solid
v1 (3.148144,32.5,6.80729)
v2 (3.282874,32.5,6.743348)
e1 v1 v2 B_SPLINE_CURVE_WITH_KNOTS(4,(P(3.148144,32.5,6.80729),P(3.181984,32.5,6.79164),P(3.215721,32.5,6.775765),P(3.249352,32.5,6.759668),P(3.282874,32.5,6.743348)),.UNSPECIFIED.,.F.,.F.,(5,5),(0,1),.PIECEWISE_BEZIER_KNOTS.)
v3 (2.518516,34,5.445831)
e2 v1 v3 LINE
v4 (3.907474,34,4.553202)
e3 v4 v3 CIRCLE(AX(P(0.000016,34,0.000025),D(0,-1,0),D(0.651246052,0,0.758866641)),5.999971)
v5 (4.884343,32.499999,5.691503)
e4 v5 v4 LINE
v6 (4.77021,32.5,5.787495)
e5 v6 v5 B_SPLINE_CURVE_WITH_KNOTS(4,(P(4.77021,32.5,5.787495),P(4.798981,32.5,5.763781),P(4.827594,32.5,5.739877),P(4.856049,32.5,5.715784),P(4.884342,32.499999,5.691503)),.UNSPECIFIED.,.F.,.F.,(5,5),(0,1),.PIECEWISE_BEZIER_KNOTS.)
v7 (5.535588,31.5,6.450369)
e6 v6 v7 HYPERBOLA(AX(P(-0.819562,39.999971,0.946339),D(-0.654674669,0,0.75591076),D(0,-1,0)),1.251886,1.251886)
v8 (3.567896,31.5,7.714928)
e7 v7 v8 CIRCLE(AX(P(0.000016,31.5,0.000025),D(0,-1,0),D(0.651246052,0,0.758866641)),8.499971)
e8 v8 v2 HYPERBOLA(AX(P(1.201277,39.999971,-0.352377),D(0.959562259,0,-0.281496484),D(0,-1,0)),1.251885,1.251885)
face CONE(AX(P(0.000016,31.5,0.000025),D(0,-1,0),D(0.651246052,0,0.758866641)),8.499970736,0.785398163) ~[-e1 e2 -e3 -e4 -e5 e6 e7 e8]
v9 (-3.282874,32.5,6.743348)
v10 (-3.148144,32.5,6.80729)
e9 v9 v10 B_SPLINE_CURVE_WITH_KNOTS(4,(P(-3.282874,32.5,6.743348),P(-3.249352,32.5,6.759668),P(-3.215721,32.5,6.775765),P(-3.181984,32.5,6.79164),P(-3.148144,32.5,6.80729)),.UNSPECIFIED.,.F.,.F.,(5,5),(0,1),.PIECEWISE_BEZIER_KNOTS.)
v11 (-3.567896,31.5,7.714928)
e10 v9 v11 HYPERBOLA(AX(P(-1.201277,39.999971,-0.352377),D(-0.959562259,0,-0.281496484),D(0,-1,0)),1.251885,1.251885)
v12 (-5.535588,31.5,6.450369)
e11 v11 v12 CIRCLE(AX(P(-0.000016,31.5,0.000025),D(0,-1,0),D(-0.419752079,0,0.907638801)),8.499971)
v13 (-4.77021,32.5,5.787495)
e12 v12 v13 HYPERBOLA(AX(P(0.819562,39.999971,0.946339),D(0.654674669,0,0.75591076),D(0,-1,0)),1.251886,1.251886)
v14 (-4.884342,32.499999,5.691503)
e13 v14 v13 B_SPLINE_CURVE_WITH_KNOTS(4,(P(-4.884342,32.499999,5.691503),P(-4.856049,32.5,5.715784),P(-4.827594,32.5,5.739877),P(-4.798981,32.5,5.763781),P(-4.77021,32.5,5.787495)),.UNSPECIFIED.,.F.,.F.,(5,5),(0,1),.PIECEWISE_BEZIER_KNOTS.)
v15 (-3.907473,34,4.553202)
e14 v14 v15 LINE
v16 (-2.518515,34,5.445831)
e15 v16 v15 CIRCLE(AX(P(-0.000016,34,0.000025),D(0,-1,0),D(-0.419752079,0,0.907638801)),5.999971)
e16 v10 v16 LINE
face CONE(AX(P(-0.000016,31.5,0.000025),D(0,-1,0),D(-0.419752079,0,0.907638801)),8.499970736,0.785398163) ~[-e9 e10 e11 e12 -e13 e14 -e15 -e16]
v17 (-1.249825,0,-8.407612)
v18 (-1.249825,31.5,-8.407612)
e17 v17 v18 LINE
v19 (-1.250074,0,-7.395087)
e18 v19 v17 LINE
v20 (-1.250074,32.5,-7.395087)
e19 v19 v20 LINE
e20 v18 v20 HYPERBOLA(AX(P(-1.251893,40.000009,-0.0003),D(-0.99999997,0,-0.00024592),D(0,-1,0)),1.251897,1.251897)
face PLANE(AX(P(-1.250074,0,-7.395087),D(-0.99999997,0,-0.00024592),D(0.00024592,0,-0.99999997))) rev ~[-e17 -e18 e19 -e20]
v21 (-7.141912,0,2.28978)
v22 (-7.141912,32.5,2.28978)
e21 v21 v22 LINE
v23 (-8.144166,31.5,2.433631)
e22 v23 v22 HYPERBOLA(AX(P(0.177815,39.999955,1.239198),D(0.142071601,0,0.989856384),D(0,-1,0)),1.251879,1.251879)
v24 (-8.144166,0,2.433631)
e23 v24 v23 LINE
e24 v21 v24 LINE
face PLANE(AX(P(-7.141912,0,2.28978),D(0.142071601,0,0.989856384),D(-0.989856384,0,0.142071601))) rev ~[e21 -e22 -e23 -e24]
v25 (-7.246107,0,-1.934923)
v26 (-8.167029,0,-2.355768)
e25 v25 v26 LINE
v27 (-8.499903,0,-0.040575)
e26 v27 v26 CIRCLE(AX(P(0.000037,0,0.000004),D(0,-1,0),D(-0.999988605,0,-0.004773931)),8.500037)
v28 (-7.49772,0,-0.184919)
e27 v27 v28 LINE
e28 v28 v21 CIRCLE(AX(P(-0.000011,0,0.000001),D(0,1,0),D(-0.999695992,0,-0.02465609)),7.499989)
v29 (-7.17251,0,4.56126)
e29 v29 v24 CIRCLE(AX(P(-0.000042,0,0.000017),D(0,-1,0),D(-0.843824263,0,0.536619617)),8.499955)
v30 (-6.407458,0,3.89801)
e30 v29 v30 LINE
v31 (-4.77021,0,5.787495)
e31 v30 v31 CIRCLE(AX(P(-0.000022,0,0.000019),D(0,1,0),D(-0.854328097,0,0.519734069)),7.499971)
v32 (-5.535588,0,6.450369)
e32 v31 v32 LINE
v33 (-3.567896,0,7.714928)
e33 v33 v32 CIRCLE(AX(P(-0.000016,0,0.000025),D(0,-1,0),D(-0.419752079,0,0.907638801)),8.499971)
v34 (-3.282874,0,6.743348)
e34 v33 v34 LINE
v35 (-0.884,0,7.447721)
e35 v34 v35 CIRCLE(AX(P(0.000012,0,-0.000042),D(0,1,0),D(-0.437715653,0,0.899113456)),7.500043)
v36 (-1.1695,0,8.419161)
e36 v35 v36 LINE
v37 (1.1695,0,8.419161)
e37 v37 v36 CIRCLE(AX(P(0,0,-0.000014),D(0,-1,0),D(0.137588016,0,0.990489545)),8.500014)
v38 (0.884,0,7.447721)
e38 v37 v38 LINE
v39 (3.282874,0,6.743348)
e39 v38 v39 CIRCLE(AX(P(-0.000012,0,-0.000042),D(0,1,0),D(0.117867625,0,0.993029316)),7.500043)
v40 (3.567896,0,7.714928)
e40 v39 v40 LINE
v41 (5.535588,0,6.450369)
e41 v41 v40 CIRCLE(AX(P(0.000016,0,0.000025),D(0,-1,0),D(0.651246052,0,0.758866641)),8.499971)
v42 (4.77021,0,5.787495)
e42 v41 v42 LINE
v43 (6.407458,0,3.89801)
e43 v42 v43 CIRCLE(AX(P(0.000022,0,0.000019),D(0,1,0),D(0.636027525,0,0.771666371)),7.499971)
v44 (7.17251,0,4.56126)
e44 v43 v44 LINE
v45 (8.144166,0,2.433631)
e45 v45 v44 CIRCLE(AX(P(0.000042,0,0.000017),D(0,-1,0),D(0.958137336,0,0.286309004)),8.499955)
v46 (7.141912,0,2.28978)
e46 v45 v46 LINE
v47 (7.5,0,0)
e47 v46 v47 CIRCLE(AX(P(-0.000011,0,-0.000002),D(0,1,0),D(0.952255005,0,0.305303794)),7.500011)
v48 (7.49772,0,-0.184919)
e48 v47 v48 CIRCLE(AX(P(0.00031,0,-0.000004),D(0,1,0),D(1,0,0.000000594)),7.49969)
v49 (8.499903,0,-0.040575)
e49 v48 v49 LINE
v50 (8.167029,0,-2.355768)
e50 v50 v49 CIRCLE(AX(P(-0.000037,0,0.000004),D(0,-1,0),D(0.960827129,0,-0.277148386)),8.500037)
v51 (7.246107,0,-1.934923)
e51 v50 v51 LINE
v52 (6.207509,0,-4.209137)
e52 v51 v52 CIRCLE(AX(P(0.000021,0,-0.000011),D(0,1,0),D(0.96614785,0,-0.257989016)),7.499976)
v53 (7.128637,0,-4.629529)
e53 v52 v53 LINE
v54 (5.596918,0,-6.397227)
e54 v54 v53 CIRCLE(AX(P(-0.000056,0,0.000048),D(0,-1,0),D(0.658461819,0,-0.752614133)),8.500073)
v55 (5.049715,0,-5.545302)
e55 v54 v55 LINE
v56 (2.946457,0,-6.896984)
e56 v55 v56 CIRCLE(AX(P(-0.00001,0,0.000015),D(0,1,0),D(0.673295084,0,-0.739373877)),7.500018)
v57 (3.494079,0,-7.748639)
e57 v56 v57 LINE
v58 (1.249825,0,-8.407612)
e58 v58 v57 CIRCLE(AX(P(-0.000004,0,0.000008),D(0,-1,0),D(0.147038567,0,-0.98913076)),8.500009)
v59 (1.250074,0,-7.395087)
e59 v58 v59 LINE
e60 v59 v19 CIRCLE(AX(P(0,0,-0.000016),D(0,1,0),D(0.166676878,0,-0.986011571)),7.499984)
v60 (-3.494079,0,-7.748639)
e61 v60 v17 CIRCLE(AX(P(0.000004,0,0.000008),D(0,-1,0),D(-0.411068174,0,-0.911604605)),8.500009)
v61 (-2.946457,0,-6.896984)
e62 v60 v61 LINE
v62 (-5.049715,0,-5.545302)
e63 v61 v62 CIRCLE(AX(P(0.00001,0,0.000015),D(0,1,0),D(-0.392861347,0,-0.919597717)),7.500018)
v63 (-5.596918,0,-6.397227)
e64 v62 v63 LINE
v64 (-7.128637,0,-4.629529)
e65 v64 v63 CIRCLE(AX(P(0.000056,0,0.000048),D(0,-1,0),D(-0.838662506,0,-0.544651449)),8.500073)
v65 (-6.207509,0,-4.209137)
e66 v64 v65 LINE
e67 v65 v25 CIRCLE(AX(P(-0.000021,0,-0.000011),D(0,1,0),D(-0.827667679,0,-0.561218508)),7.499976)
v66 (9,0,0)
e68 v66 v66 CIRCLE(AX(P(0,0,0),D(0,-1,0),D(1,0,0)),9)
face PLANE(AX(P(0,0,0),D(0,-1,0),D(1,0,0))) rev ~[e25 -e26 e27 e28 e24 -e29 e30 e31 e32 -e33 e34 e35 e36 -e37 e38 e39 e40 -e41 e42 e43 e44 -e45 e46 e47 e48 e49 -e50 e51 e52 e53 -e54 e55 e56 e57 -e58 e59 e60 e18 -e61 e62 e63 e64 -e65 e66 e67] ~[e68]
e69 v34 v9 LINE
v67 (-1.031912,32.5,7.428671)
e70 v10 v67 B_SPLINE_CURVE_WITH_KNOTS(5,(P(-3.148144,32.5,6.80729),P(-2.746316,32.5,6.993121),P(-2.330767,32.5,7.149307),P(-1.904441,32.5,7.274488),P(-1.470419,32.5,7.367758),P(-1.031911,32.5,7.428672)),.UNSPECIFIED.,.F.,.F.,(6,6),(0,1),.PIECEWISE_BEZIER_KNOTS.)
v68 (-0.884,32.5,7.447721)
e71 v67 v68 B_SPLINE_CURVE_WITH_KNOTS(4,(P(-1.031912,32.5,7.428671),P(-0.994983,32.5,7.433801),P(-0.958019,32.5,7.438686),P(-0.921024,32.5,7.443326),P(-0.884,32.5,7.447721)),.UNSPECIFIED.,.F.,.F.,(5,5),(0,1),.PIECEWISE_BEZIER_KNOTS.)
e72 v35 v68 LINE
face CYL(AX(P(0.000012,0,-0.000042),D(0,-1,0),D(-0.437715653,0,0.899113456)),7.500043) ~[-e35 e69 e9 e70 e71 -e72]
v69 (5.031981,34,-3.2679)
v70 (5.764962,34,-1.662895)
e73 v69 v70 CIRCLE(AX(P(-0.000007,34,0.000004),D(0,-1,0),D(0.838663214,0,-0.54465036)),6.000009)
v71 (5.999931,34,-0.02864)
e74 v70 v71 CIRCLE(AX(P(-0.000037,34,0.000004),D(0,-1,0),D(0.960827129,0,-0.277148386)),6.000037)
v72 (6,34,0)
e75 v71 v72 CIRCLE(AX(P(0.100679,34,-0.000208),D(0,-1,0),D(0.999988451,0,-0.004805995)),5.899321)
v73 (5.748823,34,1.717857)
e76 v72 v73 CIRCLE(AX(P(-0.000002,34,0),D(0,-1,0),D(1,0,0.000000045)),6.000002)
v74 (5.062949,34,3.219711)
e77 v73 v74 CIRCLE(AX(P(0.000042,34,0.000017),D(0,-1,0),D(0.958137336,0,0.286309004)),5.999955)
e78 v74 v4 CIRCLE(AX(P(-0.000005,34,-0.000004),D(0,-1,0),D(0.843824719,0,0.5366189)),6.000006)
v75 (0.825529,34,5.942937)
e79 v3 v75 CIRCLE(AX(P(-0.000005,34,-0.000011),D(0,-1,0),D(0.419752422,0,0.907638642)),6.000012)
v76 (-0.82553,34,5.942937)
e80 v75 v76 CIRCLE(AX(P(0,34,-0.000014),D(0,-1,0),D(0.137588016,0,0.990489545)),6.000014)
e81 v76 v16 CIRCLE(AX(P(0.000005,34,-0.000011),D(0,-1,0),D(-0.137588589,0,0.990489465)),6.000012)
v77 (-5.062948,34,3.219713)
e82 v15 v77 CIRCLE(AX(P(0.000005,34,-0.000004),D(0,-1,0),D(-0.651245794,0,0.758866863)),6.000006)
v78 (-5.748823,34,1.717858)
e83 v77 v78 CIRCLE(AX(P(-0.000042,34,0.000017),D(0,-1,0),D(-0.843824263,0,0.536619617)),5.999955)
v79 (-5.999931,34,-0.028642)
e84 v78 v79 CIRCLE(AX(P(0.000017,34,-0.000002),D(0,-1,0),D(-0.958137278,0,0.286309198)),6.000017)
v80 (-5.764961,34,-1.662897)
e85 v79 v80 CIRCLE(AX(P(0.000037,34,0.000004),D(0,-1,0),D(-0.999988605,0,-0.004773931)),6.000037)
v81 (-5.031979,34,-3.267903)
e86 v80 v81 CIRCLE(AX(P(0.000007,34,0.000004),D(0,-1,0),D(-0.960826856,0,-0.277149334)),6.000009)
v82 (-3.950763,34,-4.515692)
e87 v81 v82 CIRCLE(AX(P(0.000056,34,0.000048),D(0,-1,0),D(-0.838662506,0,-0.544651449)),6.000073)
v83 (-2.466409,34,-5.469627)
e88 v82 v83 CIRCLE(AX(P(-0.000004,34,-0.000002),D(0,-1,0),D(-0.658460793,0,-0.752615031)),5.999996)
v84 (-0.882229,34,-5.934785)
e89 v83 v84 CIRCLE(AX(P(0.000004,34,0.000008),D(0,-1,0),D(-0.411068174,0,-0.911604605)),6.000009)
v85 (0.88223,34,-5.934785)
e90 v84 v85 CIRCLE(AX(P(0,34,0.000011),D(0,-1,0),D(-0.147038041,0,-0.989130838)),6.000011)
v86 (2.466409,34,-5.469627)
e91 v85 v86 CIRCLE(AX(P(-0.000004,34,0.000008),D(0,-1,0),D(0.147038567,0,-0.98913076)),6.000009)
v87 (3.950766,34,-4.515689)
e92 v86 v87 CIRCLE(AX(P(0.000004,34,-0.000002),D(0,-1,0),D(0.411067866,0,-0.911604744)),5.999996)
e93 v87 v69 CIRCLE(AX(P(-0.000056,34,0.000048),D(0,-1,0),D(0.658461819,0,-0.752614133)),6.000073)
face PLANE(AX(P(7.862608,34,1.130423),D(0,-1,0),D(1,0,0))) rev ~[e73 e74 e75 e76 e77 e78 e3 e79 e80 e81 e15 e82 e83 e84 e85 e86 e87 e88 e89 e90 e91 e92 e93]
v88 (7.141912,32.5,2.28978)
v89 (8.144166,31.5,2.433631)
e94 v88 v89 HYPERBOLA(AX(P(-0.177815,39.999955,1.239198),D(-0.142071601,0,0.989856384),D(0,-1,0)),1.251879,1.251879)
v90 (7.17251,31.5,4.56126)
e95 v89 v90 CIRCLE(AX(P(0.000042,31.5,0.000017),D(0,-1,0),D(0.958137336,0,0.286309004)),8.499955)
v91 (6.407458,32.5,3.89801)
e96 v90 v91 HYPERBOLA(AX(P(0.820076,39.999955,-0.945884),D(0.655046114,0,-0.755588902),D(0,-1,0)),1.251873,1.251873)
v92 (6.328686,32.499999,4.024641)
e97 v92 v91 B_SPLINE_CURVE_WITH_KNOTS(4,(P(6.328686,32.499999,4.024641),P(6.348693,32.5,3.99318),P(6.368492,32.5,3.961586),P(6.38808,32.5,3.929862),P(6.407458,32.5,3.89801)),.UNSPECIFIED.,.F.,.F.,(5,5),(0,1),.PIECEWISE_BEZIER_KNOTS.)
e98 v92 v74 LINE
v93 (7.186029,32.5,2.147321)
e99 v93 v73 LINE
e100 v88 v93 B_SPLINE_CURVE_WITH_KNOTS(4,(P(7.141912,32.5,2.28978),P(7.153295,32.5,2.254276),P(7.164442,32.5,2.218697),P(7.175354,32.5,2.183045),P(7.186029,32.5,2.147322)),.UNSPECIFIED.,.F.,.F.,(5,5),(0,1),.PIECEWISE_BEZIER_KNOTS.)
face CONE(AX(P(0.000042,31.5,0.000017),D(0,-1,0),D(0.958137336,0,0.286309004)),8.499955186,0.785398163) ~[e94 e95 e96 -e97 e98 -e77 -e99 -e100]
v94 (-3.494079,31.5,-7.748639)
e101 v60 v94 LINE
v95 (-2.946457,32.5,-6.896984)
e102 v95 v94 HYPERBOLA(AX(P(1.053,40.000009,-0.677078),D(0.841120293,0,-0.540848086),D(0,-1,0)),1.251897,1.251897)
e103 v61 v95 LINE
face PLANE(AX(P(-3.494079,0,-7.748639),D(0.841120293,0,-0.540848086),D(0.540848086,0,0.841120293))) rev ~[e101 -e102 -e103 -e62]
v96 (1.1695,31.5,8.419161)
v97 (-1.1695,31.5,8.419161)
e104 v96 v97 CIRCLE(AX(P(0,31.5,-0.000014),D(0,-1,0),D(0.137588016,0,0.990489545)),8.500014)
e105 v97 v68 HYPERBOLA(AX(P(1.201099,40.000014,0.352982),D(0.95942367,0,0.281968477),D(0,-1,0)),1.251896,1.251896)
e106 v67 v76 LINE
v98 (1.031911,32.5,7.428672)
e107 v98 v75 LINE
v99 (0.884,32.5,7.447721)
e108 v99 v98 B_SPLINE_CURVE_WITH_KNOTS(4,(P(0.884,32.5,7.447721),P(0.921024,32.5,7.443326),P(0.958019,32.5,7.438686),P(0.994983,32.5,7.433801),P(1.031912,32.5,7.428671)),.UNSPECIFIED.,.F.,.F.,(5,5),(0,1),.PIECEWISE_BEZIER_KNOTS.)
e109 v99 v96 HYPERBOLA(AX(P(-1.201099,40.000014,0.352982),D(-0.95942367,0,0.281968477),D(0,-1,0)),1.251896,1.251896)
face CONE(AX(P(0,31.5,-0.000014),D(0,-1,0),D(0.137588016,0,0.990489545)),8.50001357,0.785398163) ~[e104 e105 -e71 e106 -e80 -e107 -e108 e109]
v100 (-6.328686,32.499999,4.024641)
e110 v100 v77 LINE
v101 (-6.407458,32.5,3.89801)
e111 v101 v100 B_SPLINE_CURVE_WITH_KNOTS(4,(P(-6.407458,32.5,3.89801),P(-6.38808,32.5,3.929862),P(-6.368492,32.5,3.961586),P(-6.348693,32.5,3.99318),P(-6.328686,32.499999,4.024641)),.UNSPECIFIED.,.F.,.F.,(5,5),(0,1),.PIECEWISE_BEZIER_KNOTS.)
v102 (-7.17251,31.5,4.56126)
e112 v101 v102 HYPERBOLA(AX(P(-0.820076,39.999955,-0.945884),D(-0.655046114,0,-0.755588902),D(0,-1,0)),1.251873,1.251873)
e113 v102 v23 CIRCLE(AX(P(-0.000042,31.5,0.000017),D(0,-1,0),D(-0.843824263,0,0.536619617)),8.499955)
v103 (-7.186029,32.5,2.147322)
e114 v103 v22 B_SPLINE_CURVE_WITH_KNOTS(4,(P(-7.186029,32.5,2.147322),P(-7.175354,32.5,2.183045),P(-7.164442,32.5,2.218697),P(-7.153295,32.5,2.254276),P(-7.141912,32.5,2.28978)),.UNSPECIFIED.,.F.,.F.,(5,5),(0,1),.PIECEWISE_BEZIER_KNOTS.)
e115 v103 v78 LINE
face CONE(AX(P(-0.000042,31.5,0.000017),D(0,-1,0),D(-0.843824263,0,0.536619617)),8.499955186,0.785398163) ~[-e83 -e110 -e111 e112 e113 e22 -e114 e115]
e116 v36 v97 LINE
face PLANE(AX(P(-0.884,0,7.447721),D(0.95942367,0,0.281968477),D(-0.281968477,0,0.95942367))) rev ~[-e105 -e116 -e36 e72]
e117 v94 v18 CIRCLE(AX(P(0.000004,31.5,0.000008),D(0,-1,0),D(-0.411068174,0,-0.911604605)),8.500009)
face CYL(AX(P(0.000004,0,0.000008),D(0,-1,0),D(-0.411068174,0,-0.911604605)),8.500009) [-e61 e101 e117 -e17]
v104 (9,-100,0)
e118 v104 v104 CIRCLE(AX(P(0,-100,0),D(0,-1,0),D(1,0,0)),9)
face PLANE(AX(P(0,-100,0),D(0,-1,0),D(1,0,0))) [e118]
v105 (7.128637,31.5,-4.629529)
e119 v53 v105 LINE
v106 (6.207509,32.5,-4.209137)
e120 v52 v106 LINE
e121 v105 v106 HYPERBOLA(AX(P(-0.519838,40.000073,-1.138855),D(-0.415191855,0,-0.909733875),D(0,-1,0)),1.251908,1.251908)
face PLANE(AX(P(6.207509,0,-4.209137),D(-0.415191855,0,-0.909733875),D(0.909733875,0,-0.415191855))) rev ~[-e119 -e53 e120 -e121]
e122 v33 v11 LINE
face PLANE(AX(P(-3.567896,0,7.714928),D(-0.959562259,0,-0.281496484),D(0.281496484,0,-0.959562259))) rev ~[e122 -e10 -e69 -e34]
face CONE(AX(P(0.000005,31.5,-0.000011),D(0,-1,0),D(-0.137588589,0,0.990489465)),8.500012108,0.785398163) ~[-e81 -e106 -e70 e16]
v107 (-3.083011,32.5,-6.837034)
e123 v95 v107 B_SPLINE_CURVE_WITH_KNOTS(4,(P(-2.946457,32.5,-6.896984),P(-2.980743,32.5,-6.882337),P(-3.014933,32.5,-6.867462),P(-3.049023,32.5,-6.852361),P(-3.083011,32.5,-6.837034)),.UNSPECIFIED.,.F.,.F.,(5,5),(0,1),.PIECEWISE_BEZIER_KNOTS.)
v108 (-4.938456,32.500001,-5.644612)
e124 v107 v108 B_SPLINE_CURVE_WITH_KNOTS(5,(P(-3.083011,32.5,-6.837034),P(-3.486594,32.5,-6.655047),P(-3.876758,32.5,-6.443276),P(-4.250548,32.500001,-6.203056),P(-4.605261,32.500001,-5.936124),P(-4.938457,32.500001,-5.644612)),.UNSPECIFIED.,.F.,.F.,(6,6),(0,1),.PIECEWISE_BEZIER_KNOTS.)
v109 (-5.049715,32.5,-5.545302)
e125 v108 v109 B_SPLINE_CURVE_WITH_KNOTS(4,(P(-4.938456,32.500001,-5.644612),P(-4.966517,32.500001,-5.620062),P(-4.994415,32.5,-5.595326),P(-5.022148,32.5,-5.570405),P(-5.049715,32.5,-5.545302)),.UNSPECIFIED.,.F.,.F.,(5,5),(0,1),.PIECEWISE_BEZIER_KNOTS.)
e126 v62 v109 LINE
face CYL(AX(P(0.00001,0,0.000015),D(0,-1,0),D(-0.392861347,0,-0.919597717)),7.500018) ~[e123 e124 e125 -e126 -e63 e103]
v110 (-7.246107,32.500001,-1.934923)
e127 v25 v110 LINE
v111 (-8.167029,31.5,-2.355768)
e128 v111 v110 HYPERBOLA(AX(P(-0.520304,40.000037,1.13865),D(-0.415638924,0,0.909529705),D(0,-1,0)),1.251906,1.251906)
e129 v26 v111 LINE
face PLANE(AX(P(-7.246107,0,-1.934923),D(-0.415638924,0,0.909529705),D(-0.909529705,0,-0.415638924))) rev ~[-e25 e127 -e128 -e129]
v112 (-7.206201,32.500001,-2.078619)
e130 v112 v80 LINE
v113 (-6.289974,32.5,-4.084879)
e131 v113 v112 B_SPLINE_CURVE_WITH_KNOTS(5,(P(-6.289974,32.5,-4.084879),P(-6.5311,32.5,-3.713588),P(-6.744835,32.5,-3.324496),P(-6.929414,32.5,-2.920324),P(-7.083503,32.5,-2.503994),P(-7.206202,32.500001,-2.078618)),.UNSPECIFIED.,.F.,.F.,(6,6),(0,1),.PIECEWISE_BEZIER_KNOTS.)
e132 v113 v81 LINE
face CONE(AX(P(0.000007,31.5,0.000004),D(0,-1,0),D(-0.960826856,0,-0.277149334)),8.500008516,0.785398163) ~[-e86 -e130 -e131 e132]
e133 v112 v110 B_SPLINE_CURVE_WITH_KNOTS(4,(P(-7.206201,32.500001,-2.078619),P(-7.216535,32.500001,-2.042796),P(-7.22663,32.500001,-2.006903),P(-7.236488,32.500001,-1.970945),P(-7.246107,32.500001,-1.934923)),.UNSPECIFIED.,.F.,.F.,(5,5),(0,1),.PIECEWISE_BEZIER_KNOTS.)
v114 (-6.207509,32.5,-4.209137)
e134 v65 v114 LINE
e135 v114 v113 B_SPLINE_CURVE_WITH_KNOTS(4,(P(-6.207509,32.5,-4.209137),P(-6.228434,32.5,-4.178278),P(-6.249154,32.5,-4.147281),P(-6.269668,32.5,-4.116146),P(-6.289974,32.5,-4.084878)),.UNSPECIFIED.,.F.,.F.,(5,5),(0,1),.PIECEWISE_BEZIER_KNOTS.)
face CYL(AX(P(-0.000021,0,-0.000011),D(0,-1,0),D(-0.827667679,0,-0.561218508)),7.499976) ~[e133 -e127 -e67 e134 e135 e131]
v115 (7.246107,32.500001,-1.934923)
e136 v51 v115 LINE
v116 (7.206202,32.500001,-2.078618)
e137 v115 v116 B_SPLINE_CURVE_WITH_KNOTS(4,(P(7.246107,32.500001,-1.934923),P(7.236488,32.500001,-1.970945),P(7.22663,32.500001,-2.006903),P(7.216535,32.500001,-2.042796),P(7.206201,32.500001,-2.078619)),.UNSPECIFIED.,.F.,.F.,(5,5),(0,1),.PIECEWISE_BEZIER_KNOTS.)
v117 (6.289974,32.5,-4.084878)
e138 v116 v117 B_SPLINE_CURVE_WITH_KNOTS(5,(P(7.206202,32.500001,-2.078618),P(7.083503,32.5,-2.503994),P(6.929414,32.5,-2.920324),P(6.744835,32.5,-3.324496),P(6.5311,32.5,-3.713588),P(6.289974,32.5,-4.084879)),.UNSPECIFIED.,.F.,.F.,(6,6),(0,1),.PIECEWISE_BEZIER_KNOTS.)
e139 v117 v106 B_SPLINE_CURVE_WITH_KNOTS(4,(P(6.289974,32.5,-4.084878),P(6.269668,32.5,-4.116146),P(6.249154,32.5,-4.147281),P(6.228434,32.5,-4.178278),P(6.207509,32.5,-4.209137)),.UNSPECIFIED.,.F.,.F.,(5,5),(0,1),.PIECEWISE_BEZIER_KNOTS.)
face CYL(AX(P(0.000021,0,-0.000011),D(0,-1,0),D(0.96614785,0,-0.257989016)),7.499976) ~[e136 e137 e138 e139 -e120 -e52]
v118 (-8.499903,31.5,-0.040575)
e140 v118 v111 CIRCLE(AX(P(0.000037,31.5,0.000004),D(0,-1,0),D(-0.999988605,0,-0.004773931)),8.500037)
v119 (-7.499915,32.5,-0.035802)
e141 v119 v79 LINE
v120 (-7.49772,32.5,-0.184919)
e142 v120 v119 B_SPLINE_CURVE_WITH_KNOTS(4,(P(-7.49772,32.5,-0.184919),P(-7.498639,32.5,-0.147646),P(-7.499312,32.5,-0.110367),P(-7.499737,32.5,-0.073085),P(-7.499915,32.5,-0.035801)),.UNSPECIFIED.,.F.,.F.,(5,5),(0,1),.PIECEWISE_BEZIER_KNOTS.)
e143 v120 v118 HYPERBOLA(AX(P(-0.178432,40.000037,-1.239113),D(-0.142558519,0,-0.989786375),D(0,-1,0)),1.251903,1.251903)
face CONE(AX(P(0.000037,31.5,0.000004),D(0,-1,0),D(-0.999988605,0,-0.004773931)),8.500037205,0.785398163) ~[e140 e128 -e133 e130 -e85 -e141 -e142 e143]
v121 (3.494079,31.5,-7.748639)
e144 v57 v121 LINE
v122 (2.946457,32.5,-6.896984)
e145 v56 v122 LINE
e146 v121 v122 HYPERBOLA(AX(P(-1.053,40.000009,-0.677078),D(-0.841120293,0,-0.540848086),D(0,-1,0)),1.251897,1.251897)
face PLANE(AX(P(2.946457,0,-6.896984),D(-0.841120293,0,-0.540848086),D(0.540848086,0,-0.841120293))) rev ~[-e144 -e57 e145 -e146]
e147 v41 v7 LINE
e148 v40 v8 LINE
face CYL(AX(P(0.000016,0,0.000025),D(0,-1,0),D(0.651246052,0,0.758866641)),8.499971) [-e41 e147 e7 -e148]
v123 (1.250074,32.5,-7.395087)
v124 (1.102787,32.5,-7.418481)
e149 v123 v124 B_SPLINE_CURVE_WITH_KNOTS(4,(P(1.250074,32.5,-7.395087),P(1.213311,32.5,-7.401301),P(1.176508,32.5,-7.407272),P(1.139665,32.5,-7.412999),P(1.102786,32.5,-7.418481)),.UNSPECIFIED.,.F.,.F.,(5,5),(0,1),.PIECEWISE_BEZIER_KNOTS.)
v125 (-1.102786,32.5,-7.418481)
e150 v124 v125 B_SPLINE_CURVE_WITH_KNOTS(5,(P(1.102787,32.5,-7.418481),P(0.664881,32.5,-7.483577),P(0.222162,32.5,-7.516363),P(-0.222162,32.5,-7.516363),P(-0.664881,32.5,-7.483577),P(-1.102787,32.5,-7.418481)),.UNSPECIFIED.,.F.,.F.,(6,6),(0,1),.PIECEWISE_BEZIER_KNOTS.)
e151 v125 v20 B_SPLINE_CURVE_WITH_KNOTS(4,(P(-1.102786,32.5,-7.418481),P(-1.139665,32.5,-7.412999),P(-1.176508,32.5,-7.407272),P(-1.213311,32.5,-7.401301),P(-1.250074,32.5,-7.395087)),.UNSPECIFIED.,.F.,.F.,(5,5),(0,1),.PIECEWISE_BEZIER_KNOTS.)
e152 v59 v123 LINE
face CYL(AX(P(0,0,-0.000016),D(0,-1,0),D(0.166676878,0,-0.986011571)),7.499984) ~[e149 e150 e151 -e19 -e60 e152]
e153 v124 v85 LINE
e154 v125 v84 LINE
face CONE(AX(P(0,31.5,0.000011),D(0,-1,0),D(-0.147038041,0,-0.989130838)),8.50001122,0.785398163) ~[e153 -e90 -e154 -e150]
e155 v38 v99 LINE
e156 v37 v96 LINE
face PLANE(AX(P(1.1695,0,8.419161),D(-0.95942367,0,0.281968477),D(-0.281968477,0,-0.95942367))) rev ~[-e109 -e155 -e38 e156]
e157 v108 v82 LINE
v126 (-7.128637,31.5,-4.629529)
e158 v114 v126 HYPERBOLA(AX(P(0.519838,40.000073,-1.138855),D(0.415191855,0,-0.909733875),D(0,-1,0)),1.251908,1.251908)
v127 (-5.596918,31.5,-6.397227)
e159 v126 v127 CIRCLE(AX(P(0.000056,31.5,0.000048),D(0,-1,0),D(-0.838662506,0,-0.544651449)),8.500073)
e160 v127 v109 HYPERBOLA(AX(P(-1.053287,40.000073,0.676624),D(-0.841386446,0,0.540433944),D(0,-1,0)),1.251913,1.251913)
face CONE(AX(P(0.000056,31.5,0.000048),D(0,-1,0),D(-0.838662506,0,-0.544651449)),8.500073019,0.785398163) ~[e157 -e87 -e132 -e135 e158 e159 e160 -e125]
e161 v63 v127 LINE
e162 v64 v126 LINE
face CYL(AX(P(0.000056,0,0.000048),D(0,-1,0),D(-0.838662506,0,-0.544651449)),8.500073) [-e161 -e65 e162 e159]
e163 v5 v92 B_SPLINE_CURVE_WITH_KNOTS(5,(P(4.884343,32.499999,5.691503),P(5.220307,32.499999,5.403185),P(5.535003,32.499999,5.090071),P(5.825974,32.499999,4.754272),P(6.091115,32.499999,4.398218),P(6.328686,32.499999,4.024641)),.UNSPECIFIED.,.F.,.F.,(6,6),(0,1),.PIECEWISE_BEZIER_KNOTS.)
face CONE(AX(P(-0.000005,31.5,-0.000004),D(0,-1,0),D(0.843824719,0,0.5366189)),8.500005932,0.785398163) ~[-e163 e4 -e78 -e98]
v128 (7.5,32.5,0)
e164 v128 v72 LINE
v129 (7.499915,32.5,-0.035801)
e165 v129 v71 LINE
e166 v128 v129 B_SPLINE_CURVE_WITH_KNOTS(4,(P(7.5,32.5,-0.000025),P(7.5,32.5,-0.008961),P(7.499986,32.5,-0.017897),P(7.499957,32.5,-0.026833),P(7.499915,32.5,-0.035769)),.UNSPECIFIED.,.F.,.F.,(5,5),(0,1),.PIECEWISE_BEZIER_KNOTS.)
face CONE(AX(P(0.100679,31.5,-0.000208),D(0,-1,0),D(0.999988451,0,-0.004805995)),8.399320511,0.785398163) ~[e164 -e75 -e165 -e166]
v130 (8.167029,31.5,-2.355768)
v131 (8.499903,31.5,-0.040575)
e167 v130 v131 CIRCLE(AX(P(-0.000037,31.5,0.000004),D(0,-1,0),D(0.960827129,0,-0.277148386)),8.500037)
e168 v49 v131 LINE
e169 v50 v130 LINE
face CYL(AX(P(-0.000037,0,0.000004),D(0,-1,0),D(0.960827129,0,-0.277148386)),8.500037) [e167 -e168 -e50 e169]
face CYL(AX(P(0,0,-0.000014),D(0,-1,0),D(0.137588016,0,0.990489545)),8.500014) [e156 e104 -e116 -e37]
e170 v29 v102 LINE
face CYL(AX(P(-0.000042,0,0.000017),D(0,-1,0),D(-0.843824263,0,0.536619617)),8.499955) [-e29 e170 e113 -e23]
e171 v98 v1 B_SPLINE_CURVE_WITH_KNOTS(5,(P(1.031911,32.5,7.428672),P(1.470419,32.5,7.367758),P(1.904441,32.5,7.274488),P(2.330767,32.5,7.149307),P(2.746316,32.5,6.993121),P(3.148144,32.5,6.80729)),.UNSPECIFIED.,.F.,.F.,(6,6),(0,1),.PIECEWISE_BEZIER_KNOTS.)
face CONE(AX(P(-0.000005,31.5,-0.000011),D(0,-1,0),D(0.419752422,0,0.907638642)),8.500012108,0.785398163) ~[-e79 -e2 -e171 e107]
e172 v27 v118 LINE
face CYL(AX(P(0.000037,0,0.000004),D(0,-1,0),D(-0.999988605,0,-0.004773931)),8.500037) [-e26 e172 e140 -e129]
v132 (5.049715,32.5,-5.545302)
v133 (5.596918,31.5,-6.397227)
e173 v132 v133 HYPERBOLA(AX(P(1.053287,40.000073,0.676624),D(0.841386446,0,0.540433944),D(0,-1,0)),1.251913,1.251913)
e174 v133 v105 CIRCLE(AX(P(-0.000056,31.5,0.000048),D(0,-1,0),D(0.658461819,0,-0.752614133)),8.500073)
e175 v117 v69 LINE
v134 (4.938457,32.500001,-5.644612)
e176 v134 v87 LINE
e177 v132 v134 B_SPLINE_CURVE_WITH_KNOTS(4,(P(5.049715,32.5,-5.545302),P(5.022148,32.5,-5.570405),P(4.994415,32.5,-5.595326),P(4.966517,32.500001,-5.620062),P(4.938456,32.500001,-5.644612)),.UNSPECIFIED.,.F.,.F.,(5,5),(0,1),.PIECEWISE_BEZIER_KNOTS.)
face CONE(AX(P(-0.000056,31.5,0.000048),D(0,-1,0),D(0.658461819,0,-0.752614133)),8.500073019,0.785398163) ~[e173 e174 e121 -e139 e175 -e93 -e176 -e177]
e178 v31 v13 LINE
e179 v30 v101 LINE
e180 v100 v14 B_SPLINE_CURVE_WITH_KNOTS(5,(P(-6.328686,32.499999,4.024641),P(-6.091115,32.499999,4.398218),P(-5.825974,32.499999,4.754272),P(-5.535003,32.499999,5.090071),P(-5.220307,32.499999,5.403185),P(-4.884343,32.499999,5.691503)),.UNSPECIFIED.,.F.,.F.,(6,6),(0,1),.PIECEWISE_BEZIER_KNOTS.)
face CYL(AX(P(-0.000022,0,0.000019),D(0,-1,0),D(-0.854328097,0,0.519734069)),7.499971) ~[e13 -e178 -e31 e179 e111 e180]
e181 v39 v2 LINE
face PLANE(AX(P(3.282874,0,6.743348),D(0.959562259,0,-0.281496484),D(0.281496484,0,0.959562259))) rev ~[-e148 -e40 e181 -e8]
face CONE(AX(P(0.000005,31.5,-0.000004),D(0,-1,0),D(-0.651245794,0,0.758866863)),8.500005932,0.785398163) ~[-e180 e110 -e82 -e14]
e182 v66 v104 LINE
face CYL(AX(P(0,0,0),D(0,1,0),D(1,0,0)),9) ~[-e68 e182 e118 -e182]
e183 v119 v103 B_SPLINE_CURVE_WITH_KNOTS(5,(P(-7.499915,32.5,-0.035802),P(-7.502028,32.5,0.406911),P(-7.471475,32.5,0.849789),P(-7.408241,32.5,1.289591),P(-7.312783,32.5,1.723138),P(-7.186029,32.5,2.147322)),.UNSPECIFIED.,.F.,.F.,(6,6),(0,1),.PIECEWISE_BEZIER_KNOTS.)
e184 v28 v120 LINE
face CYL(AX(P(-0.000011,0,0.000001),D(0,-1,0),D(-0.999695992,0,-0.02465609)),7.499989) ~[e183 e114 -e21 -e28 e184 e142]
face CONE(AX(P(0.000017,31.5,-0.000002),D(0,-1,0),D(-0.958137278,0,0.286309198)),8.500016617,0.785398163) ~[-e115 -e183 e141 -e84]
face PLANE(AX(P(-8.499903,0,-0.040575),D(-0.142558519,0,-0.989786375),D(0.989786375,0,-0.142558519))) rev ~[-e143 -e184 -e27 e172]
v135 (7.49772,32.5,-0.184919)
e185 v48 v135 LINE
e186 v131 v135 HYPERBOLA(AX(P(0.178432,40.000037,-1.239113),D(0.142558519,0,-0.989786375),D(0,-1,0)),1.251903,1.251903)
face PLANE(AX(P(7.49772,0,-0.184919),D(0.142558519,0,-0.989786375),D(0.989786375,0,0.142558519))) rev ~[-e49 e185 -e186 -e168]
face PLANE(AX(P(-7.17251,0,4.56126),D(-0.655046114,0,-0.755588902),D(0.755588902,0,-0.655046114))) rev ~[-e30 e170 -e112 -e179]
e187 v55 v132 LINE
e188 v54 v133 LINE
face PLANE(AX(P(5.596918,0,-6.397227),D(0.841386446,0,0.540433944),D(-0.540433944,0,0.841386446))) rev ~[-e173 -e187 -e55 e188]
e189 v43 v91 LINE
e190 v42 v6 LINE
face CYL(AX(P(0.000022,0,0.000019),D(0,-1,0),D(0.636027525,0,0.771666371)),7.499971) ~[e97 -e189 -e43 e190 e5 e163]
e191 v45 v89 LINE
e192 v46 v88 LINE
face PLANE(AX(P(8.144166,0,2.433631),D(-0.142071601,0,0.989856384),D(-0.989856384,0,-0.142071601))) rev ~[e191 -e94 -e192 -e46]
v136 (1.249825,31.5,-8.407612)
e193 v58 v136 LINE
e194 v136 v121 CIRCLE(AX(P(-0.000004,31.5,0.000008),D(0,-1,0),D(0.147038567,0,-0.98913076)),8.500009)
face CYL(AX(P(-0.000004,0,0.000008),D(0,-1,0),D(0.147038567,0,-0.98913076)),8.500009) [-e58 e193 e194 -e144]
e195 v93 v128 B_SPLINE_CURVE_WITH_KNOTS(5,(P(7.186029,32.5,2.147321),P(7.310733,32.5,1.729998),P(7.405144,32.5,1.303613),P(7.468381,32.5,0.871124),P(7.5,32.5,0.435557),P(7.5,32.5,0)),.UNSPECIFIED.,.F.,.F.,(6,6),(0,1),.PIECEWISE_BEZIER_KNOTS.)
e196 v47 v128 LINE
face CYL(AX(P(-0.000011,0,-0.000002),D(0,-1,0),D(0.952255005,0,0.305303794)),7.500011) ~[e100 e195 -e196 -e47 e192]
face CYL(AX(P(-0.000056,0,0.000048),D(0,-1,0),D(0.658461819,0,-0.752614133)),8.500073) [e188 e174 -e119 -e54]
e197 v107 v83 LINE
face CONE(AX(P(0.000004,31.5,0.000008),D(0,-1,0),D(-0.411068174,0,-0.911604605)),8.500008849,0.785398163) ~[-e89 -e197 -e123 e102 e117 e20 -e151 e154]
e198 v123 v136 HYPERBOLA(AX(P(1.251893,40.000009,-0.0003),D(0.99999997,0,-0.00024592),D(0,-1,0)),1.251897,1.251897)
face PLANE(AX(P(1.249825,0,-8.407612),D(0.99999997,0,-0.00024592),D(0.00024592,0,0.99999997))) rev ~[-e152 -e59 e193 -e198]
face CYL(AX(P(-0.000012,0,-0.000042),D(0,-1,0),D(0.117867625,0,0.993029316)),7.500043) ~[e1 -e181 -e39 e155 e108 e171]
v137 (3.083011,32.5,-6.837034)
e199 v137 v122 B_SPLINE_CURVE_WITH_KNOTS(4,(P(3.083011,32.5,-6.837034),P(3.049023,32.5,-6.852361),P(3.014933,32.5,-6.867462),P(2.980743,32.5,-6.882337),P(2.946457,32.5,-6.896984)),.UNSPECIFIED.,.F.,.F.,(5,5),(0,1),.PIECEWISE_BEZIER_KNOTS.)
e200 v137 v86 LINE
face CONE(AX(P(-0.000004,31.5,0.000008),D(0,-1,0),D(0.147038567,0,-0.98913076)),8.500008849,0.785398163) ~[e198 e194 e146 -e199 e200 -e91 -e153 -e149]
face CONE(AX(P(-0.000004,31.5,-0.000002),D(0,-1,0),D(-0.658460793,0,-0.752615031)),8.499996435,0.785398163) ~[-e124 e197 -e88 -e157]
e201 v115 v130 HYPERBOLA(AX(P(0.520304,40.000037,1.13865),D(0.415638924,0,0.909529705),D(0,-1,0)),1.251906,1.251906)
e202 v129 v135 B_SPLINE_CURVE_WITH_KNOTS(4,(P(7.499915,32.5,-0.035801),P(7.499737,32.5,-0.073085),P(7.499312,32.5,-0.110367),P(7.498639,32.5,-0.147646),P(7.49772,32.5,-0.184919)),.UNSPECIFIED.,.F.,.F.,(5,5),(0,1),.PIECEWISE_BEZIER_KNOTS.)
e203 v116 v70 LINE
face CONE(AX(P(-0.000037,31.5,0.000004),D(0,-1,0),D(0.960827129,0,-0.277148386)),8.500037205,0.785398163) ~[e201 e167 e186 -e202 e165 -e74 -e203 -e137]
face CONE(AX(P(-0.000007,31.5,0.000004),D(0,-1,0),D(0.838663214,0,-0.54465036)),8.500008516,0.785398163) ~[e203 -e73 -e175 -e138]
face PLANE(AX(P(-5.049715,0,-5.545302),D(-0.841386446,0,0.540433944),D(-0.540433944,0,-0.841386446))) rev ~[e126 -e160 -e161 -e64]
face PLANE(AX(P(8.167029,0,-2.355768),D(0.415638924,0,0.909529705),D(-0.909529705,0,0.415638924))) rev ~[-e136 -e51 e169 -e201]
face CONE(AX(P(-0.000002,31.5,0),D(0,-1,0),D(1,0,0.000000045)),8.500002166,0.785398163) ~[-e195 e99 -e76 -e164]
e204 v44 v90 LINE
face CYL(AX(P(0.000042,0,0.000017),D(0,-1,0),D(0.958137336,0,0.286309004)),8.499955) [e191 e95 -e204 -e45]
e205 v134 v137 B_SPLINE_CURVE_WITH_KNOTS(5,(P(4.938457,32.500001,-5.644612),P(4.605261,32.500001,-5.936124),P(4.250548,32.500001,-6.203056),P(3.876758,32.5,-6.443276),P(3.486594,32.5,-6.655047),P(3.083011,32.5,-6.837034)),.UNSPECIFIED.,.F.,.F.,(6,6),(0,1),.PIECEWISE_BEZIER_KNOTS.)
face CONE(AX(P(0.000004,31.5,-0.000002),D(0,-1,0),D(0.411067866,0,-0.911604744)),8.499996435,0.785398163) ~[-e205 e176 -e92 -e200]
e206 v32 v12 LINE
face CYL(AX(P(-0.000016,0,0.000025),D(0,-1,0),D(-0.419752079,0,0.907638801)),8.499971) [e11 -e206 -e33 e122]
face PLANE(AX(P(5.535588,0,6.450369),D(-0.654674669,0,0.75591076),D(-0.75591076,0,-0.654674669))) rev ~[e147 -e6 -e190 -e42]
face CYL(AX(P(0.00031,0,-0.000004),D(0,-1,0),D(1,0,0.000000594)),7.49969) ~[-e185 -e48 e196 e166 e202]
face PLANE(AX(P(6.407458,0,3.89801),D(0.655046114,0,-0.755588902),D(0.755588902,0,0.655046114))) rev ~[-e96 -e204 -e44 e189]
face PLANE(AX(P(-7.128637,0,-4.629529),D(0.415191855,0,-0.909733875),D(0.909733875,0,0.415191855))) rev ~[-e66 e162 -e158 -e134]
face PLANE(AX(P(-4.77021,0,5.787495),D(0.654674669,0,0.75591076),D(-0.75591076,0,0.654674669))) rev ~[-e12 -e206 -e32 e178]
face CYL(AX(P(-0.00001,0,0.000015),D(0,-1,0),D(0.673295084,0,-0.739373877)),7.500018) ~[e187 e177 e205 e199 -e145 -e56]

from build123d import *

# Parameters (mm, degrees)
F0_R     = 9
F1_DEPTH = 100
F3_DEPTH = 34
F4_SIZE  = 2.5
F5_DEPTH = 34


with BuildPart() as f1:
    # F0 (on Front) → F1 (new body)
    with BuildSketch(Plane.XZ):
        Circle(F0_R)
    extrude(amount=F1_DEPTH)

    # F2 (on Front) → F3 (join)
    with BuildSketch(Plane.XZ):
        with BuildLine():
            ThreePointArc((8.499903, -0.040575), (8.499976, -0.020288), (8.5, 0))
            ThreePointArc((8.5, 0), (8.410571, 1.229754), (8.144166, 2.433631))
            Line((8.144166, 2.433631), (7.141912, 2.28978))
            ThreePointArc((7.141912, 2.28978), (7.409937, 1.158806), (7.5, 0))
            ThreePointArc((7.5, 0), (7.49943, -0.092467), (7.49772, -0.184919))
            Line((7.49772, -0.184919), (8.499903, -0.040575))
        make_face()
        with BuildLine():
            Line((7.141912, 2.28978), (8.144166, 2.433631))
            ThreePointArc((8.144166, 2.433631), (7.731872, 3.531028), (7.17251, 4.56126))
            Line((7.17251, 4.56126), (6.407458, 3.89801))
            ThreePointArc((6.407458, 3.89801), (6.82224, 3.115613), (7.141912, 2.28978))
        make_face()
        with BuildLine():
            ThreePointArc((8.167029, -2.355768), (8.413482, -1.209676), (8.499903, -0.040575))
            Line((8.499903, -0.040575), (7.49772, -0.184919))
            ThreePointArc((7.49772, -0.184919), (7.423661, -1.067361), (7.246107, -1.934923))
            Line((7.246107, -1.934923), (8.167029, -2.355768))
        make_face()
        with BuildLine():
            Line((6.407458, 3.89801), (7.17251, 4.56126))
            ThreePointArc((7.17251, 4.56126), (6.423871, 5.566316), (5.535588, 6.450369))
            Line((5.535588, 6.450369), (4.77021, 5.787495))
            ThreePointArc((4.77021, 5.787495), (5.668122, 4.911456), (6.407458, 3.89801))
        make_face()
        with BuildLine():
            ThreePointArc((7.128637, -4.629529), (7.731872, -3.531028), (8.167029, -2.355768))
            Line((8.167029, -2.355768), (7.246107, -1.934923))
            ThreePointArc((7.246107, -1.934923), (6.82224, -3.115613), (6.207509, -4.209137))
            Line((6.207509, -4.209137), (7.128637, -4.629529))
        make_face()
        with BuildLine():
            Line((4.77021, 5.787495), (5.535588, 6.450369))
            ThreePointArc((5.535588, 6.450369), (4.595447, 7.150655), (3.567896, 7.714928))
            Line((3.567896, 7.714928), (3.282874, 6.743348))
            ThreePointArc((3.282874, 6.743348), (4.054806, 6.309401), (4.77021, 5.787495))
        make_face()
        with BuildLine():
            ThreePointArc((5.596918, -6.397227), (6.423871, -5.566316), (7.128637, -4.629529))
            Line((7.128637, -4.629529), (6.207509, -4.209137))
            ThreePointArc((6.207509, -4.209137), (5.668122, -4.911456), (5.049715, -5.545302))
            Line((5.049715, -5.545302), (5.596918, -6.397227))
        make_face()
        with BuildLine():
            Line((3.282874, 6.743348), (3.567896, 7.714928))
            ThreePointArc((3.567896, 7.714928), (2.394727, 8.15569), (1.1695, 8.419161))
            Line((1.1695, 8.419161), (0.884, 7.447721))
            ThreePointArc((0.884, 7.447721), (2.112994, 7.196197), (3.282874, 6.743348))
        make_face()
        with BuildLine():
            ThreePointArc((3.494079, -7.748639), (4.595447, -7.150655), (5.596918, -6.397227))
            Line((5.596918, -6.397227), (5.049715, -5.545302))
            ThreePointArc((5.049715, -5.545302), (4.054806, -6.309401), (2.946457, -6.896984))
            Line((2.946457, -6.896984), (3.494079, -7.748639))
        make_face()
        with BuildLine():
            Line((0.884, 7.447721), (1.1695, 8.419161))
            ThreePointArc((1.1695, 8.419161), (0, 8.5), (-1.1695, 8.419161))
            Line((-1.1695, 8.419161), (-0.884, 7.447721))
            ThreePointArc((-0.884, 7.447721), (0, 7.5), (0.884, 7.447721))
        make_face()
        with BuildLine():
            ThreePointArc((1.249825, -8.407612), (2.394727, -8.15569), (3.494079, -7.748639))
            Line((3.494079, -7.748639), (2.946457, -6.896984))
            ThreePointArc((2.946457, -6.896984), (2.112994, -7.196197), (1.250074, -7.395087))
            Line((1.250074, -7.395087), (1.249825, -8.407612))
        make_face()
        with BuildLine():
            Line((-0.884, 7.447721), (-1.1695, 8.419161))
            ThreePointArc((-1.1695, 8.419161), (-2.394727, 8.15569), (-3.567896, 7.714928))
            Line((-3.567896, 7.714928), (-3.282874, 6.743348))
            ThreePointArc((-3.282874, 6.743348), (-2.112994, 7.196197), (-0.884, 7.447721))
        make_face()
        with BuildLine():
            ThreePointArc((-1.249825, -8.407612), (0, -8.5), (1.249825, -8.407612))
            Line((1.249825, -8.407612), (1.250074, -7.395087))
            ThreePointArc((1.250074, -7.395087), (0, -7.5), (-1.250074, -7.395087))
            Line((-1.250074, -7.395087), (-1.249825, -8.407612))
        make_face()
        with BuildLine():
            Line((-3.282874, 6.743348), (-3.567896, 7.714928))
            ThreePointArc((-3.567896, 7.714928), (-4.595447, 7.150655), (-5.535588, 6.450369))
            Line((-5.535588, 6.450369), (-4.77021, 5.787495))
            ThreePointArc((-4.77021, 5.787495), (-4.054806, 6.309401), (-3.282874, 6.743348))
        make_face()
        with BuildLine():
            ThreePointArc((-3.494079, -7.748639), (-2.394727, -8.15569), (-1.249825, -8.407612))
            Line((-1.249825, -8.407612), (-1.250074, -7.395087))
            ThreePointArc((-1.250074, -7.395087), (-2.112994, -7.196197), (-2.946457, -6.896984))
            Line((-2.946457, -6.896984), (-3.494079, -7.748639))
        make_face()
        with BuildLine():
            Line((-4.77021, 5.787495), (-5.535588, 6.450369))
            ThreePointArc((-5.535588, 6.450369), (-6.423871, 5.566316), (-7.17251, 4.56126))
            Line((-7.17251, 4.56126), (-6.407458, 3.89801))
            ThreePointArc((-6.407458, 3.89801), (-5.668122, 4.911456), (-4.77021, 5.787495))
        make_face()
        with BuildLine():
            ThreePointArc((-5.596918, -6.397227), (-4.595447, -7.150655), (-3.494079, -7.748639))
            Line((-3.494079, -7.748639), (-2.946457, -6.896984))
            ThreePointArc((-2.946457, -6.896984), (-4.054806, -6.309401), (-5.049715, -5.545302))
            Line((-5.049715, -5.545302), (-5.596918, -6.397227))
        make_face()
        with BuildLine():
            Line((-6.407458, 3.89801), (-7.17251, 4.56126))
            ThreePointArc((-7.17251, 4.56126), (-7.731872, 3.531028), (-8.144166, 2.433631))
            Line((-8.144166, 2.433631), (-7.141912, 2.28978))
            ThreePointArc((-7.141912, 2.28978), (-6.82224, 3.115613), (-6.407458, 3.89801))
        make_face()
        with BuildLine():
            ThreePointArc((-7.128637, -4.629529), (-6.423871, -5.566316), (-5.596918, -6.397227))
            Line((-5.596918, -6.397227), (-5.049715, -5.545302))
            ThreePointArc((-5.049715, -5.545302), (-5.668122, -4.911456), (-6.207509, -4.209137))
            Line((-6.207509, -4.209137), (-7.128637, -4.629529))
        make_face()
        with BuildLine():
            Line((-7.141912, 2.28978), (-8.144166, 2.433631))
            ThreePointArc((-8.144166, 2.433631), (-8.413482, 1.209676), (-8.499903, -0.040575))
            Line((-8.499903, -0.040575), (-7.49772, -0.184919))
            ThreePointArc((-7.49772, -0.184919), (-7.423661, 1.067361), (-7.141912, 2.28978))
        make_face()
        with BuildLine():
            ThreePointArc((-8.167029, -2.355768), (-7.731872, -3.531028), (-7.128637, -4.629529))
            Line((-7.128637, -4.629529), (-6.207509, -4.209137))
            ThreePointArc((-6.207509, -4.209137), (-6.82224, -3.115613), (-7.246107, -1.934923))
            Line((-7.246107, -1.934923), (-8.167029, -2.355768))
        make_face()
        with BuildLine():
            Line((-7.49772, -0.184919), (-8.499903, -0.040575))
            ThreePointArc((-8.499903, -0.040575), (-8.413482, -1.209676), (-8.167029, -2.355768))
            Line((-8.167029, -2.355768), (-7.246107, -1.934923))
            ThreePointArc((-7.246107, -1.934923), (-7.423661, -1.067361), (-7.49772, -0.184919))
        make_face()
        with BuildLine():
            ThreePointArc((7.5, 0), (7.409937, 1.158806), (7.141912, 2.28978))
            ThreePointArc((7.141912, 2.28978), (6.82224, 3.115613), (6.407458, 3.89801))
            ThreePointArc((6.407458, 3.89801), (5.668122, 4.911456), (4.77021, 5.787495))
            ThreePointArc((4.77021, 5.787495), (4.054806, 6.309401), (3.282874, 6.743348))
            ThreePointArc((3.282874, 6.743348), (2.112994, 7.196197), (0.884, 7.447721))
            ThreePointArc((0.884, 7.447721), (0, 7.5), (-0.884, 7.447721))
            ThreePointArc((-0.884, 7.447721), (-2.112994, 7.196197), (-3.282874, 6.743348))
            ThreePointArc((-3.282874, 6.743348), (-4.054806, 6.309401), (-4.77021, 5.787495))
            ThreePointArc((-4.77021, 5.787495), (-5.668122, 4.911456), (-6.407458, 3.89801))
            ThreePointArc((-6.407458, 3.89801), (-6.82224, 3.115613), (-7.141912, 2.28978))
            ThreePointArc((-7.141912, 2.28978), (-7.423661, 1.067361), (-7.49772, -0.184919))
            ThreePointArc((-7.49772, -0.184919), (-7.423661, -1.067361), (-7.246107, -1.934923))
            ThreePointArc((-7.246107, -1.934923), (-6.82224, -3.115613), (-6.207509, -4.209137))
            ThreePointArc((-6.207509, -4.209137), (-5.668122, -4.911456), (-5.049715, -5.545302))
            ThreePointArc((-5.049715, -5.545302), (-4.054806, -6.309401), (-2.946457, -6.896984))
            ThreePointArc((-2.946457, -6.896984), (-2.112994, -7.196197), (-1.250074, -7.395087))
            ThreePointArc((-1.250074, -7.395087), (0, -7.5), (1.250074, -7.395087))
            ThreePointArc((1.250074, -7.395087), (2.112994, -7.196197), (2.946457, -6.896984))
            ThreePointArc((2.946457, -6.896984), (4.054806, -6.309401), (5.049715, -5.545302))
            ThreePointArc((5.049715, -5.545302), (5.668122, -4.911456), (6.207509, -4.209137))
            ThreePointArc((6.207509, -4.209137), (6.82224, -3.115613), (7.246107, -1.934923))
            ThreePointArc((7.246107, -1.934923), (7.423661, -1.067361), (7.49772, -0.184919))
            ThreePointArc((7.49772, -0.184919), (7.49943, -0.092467), (7.5, 0))
        make_face()
    extrude(amount=-F3_DEPTH)

    # F4
    f4_edges = [f1.edges().sort_by_distance(p)[0] for p in [
        (8.499903, 34, 0.040575),
    ]]
    chamfer(f4_edges, length=F4_SIZE)

    # F2 (on Front) → F5 (cut)
    with BuildSketch(Plane.XZ):
        with BuildLine():
            ThreePointArc((-5.596918, -6.397227), (-4.595447, -7.150655), (-3.494079, -7.748639))
            Line((-3.494079, -7.748639), (-2.946457, -6.896984))
            ThreePointArc((-2.946457, -6.896984), (-4.054806, -6.309401), (-5.049715, -5.545302))
            Line((-5.049715, -5.545302), (-5.596918, -6.397227))
        make_face()
        with BuildLine():
            ThreePointArc((-8.167029, -2.355768), (-7.731872, -3.531028), (-7.128637, -4.629529))
            Line((-7.128637, -4.629529), (-6.207509, -4.209137))
            ThreePointArc((-6.207509, -4.209137), (-6.82224, -3.115613), (-7.246107, -1.934923))
            Line((-7.246107, -1.934923), (-8.167029, -2.355768))
        make_face()
        with BuildLine():
            Line((-7.141912, 2.28978), (-8.144166, 2.433631))
            ThreePointArc((-8.144166, 2.433631), (-8.413482, 1.209676), (-8.499903, -0.040575))
            Line((-8.499903, -0.040575), (-7.49772, -0.184919))
            ThreePointArc((-7.49772, -0.184919), (-7.423661, 1.067361), (-7.141912, 2.28978))
        make_face()
        with BuildLine():
            Line((-4.77021, 5.787495), (-5.535588, 6.450369))
            ThreePointArc((-5.535588, 6.450369), (-6.423871, 5.566316), (-7.17251, 4.56126))
            Line((-7.17251, 4.56126), (-6.407458, 3.89801))
            ThreePointArc((-6.407458, 3.89801), (-5.668122, 4.911456), (-4.77021, 5.787495))
        make_face()
        with BuildLine():
            Line((-0.884, 7.447721), (-1.1695, 8.419161))
            ThreePointArc((-1.1695, 8.419161), (-2.394727, 8.15569), (-3.567896, 7.714928))
            Line((-3.567896, 7.714928), (-3.282874, 6.743348))
            ThreePointArc((-3.282874, 6.743348), (-2.112994, 7.196197), (-0.884, 7.447721))
        make_face()
        with BuildLine():
            Line((3.282874, 6.743348), (3.567896, 7.714928))
            ThreePointArc((3.567896, 7.714928), (2.394727, 8.15569), (1.1695, 8.419161))
            Line((1.1695, 8.419161), (0.884, 7.447721))
            ThreePointArc((0.884, 7.447721), (2.112994, 7.196197), (3.282874, 6.743348))
        make_face()
        with BuildLine():
            Line((6.407458, 3.89801), (7.17251, 4.56126))
            ThreePointArc((7.17251, 4.56126), (6.423871, 5.566316), (5.535588, 6.450369))
            Line((5.535588, 6.450369), (4.77021, 5.787495))
            ThreePointArc((4.77021, 5.787495), (5.668122, 4.911456), (6.407458, 3.89801))
        make_face()
        with BuildLine():
            ThreePointArc((8.499903, -0.040575), (8.499976, -0.020288), (8.5, 0))
            ThreePointArc((8.5, 0), (8.410571, 1.229754), (8.144166, 2.433631))
            Line((8.144166, 2.433631), (7.141912, 2.28978))
            ThreePointArc((7.141912, 2.28978), (7.409937, 1.158806), (7.5, 0))
            ThreePointArc((7.5, 0), (7.49943, -0.092467), (7.49772, -0.184919))
            Line((7.49772, -0.184919), (8.499903, -0.040575))
        make_face()
        with BuildLine():
            ThreePointArc((7.128637, -4.629529), (7.731872, -3.531028), (8.167029, -2.355768))
            Line((8.167029, -2.355768), (7.246107, -1.934923))
            ThreePointArc((7.246107, -1.934923), (6.82224, -3.115613), (6.207509, -4.209137))
            Line((6.207509, -4.209137), (7.128637, -4.629529))
        make_face()
        with BuildLine():
            ThreePointArc((3.494079, -7.748639), (4.595447, -7.150655), (5.596918, -6.397227))
            Line((5.596918, -6.397227), (5.049715, -5.545302))
            ThreePointArc((5.049715, -5.545302), (4.054806, -6.309401), (2.946457, -6.896984))
            Line((2.946457, -6.896984), (3.494079, -7.748639))
        make_face()
        with BuildLine():
            ThreePointArc((-1.249825, -8.407612), (0, -8.5), (1.249825, -8.407612))
            Line((1.249825, -8.407612), (1.250074, -7.395087))
            ThreePointArc((1.250074, -7.395087), (0, -7.5), (-1.250074, -7.395087))
            Line((-1.250074, -7.395087), (-1.249825, -8.407612))
        make_face()
    extrude(amount=-F5_DEPTH, mode=Mode.SUBTRACT)


solid = f1.part
